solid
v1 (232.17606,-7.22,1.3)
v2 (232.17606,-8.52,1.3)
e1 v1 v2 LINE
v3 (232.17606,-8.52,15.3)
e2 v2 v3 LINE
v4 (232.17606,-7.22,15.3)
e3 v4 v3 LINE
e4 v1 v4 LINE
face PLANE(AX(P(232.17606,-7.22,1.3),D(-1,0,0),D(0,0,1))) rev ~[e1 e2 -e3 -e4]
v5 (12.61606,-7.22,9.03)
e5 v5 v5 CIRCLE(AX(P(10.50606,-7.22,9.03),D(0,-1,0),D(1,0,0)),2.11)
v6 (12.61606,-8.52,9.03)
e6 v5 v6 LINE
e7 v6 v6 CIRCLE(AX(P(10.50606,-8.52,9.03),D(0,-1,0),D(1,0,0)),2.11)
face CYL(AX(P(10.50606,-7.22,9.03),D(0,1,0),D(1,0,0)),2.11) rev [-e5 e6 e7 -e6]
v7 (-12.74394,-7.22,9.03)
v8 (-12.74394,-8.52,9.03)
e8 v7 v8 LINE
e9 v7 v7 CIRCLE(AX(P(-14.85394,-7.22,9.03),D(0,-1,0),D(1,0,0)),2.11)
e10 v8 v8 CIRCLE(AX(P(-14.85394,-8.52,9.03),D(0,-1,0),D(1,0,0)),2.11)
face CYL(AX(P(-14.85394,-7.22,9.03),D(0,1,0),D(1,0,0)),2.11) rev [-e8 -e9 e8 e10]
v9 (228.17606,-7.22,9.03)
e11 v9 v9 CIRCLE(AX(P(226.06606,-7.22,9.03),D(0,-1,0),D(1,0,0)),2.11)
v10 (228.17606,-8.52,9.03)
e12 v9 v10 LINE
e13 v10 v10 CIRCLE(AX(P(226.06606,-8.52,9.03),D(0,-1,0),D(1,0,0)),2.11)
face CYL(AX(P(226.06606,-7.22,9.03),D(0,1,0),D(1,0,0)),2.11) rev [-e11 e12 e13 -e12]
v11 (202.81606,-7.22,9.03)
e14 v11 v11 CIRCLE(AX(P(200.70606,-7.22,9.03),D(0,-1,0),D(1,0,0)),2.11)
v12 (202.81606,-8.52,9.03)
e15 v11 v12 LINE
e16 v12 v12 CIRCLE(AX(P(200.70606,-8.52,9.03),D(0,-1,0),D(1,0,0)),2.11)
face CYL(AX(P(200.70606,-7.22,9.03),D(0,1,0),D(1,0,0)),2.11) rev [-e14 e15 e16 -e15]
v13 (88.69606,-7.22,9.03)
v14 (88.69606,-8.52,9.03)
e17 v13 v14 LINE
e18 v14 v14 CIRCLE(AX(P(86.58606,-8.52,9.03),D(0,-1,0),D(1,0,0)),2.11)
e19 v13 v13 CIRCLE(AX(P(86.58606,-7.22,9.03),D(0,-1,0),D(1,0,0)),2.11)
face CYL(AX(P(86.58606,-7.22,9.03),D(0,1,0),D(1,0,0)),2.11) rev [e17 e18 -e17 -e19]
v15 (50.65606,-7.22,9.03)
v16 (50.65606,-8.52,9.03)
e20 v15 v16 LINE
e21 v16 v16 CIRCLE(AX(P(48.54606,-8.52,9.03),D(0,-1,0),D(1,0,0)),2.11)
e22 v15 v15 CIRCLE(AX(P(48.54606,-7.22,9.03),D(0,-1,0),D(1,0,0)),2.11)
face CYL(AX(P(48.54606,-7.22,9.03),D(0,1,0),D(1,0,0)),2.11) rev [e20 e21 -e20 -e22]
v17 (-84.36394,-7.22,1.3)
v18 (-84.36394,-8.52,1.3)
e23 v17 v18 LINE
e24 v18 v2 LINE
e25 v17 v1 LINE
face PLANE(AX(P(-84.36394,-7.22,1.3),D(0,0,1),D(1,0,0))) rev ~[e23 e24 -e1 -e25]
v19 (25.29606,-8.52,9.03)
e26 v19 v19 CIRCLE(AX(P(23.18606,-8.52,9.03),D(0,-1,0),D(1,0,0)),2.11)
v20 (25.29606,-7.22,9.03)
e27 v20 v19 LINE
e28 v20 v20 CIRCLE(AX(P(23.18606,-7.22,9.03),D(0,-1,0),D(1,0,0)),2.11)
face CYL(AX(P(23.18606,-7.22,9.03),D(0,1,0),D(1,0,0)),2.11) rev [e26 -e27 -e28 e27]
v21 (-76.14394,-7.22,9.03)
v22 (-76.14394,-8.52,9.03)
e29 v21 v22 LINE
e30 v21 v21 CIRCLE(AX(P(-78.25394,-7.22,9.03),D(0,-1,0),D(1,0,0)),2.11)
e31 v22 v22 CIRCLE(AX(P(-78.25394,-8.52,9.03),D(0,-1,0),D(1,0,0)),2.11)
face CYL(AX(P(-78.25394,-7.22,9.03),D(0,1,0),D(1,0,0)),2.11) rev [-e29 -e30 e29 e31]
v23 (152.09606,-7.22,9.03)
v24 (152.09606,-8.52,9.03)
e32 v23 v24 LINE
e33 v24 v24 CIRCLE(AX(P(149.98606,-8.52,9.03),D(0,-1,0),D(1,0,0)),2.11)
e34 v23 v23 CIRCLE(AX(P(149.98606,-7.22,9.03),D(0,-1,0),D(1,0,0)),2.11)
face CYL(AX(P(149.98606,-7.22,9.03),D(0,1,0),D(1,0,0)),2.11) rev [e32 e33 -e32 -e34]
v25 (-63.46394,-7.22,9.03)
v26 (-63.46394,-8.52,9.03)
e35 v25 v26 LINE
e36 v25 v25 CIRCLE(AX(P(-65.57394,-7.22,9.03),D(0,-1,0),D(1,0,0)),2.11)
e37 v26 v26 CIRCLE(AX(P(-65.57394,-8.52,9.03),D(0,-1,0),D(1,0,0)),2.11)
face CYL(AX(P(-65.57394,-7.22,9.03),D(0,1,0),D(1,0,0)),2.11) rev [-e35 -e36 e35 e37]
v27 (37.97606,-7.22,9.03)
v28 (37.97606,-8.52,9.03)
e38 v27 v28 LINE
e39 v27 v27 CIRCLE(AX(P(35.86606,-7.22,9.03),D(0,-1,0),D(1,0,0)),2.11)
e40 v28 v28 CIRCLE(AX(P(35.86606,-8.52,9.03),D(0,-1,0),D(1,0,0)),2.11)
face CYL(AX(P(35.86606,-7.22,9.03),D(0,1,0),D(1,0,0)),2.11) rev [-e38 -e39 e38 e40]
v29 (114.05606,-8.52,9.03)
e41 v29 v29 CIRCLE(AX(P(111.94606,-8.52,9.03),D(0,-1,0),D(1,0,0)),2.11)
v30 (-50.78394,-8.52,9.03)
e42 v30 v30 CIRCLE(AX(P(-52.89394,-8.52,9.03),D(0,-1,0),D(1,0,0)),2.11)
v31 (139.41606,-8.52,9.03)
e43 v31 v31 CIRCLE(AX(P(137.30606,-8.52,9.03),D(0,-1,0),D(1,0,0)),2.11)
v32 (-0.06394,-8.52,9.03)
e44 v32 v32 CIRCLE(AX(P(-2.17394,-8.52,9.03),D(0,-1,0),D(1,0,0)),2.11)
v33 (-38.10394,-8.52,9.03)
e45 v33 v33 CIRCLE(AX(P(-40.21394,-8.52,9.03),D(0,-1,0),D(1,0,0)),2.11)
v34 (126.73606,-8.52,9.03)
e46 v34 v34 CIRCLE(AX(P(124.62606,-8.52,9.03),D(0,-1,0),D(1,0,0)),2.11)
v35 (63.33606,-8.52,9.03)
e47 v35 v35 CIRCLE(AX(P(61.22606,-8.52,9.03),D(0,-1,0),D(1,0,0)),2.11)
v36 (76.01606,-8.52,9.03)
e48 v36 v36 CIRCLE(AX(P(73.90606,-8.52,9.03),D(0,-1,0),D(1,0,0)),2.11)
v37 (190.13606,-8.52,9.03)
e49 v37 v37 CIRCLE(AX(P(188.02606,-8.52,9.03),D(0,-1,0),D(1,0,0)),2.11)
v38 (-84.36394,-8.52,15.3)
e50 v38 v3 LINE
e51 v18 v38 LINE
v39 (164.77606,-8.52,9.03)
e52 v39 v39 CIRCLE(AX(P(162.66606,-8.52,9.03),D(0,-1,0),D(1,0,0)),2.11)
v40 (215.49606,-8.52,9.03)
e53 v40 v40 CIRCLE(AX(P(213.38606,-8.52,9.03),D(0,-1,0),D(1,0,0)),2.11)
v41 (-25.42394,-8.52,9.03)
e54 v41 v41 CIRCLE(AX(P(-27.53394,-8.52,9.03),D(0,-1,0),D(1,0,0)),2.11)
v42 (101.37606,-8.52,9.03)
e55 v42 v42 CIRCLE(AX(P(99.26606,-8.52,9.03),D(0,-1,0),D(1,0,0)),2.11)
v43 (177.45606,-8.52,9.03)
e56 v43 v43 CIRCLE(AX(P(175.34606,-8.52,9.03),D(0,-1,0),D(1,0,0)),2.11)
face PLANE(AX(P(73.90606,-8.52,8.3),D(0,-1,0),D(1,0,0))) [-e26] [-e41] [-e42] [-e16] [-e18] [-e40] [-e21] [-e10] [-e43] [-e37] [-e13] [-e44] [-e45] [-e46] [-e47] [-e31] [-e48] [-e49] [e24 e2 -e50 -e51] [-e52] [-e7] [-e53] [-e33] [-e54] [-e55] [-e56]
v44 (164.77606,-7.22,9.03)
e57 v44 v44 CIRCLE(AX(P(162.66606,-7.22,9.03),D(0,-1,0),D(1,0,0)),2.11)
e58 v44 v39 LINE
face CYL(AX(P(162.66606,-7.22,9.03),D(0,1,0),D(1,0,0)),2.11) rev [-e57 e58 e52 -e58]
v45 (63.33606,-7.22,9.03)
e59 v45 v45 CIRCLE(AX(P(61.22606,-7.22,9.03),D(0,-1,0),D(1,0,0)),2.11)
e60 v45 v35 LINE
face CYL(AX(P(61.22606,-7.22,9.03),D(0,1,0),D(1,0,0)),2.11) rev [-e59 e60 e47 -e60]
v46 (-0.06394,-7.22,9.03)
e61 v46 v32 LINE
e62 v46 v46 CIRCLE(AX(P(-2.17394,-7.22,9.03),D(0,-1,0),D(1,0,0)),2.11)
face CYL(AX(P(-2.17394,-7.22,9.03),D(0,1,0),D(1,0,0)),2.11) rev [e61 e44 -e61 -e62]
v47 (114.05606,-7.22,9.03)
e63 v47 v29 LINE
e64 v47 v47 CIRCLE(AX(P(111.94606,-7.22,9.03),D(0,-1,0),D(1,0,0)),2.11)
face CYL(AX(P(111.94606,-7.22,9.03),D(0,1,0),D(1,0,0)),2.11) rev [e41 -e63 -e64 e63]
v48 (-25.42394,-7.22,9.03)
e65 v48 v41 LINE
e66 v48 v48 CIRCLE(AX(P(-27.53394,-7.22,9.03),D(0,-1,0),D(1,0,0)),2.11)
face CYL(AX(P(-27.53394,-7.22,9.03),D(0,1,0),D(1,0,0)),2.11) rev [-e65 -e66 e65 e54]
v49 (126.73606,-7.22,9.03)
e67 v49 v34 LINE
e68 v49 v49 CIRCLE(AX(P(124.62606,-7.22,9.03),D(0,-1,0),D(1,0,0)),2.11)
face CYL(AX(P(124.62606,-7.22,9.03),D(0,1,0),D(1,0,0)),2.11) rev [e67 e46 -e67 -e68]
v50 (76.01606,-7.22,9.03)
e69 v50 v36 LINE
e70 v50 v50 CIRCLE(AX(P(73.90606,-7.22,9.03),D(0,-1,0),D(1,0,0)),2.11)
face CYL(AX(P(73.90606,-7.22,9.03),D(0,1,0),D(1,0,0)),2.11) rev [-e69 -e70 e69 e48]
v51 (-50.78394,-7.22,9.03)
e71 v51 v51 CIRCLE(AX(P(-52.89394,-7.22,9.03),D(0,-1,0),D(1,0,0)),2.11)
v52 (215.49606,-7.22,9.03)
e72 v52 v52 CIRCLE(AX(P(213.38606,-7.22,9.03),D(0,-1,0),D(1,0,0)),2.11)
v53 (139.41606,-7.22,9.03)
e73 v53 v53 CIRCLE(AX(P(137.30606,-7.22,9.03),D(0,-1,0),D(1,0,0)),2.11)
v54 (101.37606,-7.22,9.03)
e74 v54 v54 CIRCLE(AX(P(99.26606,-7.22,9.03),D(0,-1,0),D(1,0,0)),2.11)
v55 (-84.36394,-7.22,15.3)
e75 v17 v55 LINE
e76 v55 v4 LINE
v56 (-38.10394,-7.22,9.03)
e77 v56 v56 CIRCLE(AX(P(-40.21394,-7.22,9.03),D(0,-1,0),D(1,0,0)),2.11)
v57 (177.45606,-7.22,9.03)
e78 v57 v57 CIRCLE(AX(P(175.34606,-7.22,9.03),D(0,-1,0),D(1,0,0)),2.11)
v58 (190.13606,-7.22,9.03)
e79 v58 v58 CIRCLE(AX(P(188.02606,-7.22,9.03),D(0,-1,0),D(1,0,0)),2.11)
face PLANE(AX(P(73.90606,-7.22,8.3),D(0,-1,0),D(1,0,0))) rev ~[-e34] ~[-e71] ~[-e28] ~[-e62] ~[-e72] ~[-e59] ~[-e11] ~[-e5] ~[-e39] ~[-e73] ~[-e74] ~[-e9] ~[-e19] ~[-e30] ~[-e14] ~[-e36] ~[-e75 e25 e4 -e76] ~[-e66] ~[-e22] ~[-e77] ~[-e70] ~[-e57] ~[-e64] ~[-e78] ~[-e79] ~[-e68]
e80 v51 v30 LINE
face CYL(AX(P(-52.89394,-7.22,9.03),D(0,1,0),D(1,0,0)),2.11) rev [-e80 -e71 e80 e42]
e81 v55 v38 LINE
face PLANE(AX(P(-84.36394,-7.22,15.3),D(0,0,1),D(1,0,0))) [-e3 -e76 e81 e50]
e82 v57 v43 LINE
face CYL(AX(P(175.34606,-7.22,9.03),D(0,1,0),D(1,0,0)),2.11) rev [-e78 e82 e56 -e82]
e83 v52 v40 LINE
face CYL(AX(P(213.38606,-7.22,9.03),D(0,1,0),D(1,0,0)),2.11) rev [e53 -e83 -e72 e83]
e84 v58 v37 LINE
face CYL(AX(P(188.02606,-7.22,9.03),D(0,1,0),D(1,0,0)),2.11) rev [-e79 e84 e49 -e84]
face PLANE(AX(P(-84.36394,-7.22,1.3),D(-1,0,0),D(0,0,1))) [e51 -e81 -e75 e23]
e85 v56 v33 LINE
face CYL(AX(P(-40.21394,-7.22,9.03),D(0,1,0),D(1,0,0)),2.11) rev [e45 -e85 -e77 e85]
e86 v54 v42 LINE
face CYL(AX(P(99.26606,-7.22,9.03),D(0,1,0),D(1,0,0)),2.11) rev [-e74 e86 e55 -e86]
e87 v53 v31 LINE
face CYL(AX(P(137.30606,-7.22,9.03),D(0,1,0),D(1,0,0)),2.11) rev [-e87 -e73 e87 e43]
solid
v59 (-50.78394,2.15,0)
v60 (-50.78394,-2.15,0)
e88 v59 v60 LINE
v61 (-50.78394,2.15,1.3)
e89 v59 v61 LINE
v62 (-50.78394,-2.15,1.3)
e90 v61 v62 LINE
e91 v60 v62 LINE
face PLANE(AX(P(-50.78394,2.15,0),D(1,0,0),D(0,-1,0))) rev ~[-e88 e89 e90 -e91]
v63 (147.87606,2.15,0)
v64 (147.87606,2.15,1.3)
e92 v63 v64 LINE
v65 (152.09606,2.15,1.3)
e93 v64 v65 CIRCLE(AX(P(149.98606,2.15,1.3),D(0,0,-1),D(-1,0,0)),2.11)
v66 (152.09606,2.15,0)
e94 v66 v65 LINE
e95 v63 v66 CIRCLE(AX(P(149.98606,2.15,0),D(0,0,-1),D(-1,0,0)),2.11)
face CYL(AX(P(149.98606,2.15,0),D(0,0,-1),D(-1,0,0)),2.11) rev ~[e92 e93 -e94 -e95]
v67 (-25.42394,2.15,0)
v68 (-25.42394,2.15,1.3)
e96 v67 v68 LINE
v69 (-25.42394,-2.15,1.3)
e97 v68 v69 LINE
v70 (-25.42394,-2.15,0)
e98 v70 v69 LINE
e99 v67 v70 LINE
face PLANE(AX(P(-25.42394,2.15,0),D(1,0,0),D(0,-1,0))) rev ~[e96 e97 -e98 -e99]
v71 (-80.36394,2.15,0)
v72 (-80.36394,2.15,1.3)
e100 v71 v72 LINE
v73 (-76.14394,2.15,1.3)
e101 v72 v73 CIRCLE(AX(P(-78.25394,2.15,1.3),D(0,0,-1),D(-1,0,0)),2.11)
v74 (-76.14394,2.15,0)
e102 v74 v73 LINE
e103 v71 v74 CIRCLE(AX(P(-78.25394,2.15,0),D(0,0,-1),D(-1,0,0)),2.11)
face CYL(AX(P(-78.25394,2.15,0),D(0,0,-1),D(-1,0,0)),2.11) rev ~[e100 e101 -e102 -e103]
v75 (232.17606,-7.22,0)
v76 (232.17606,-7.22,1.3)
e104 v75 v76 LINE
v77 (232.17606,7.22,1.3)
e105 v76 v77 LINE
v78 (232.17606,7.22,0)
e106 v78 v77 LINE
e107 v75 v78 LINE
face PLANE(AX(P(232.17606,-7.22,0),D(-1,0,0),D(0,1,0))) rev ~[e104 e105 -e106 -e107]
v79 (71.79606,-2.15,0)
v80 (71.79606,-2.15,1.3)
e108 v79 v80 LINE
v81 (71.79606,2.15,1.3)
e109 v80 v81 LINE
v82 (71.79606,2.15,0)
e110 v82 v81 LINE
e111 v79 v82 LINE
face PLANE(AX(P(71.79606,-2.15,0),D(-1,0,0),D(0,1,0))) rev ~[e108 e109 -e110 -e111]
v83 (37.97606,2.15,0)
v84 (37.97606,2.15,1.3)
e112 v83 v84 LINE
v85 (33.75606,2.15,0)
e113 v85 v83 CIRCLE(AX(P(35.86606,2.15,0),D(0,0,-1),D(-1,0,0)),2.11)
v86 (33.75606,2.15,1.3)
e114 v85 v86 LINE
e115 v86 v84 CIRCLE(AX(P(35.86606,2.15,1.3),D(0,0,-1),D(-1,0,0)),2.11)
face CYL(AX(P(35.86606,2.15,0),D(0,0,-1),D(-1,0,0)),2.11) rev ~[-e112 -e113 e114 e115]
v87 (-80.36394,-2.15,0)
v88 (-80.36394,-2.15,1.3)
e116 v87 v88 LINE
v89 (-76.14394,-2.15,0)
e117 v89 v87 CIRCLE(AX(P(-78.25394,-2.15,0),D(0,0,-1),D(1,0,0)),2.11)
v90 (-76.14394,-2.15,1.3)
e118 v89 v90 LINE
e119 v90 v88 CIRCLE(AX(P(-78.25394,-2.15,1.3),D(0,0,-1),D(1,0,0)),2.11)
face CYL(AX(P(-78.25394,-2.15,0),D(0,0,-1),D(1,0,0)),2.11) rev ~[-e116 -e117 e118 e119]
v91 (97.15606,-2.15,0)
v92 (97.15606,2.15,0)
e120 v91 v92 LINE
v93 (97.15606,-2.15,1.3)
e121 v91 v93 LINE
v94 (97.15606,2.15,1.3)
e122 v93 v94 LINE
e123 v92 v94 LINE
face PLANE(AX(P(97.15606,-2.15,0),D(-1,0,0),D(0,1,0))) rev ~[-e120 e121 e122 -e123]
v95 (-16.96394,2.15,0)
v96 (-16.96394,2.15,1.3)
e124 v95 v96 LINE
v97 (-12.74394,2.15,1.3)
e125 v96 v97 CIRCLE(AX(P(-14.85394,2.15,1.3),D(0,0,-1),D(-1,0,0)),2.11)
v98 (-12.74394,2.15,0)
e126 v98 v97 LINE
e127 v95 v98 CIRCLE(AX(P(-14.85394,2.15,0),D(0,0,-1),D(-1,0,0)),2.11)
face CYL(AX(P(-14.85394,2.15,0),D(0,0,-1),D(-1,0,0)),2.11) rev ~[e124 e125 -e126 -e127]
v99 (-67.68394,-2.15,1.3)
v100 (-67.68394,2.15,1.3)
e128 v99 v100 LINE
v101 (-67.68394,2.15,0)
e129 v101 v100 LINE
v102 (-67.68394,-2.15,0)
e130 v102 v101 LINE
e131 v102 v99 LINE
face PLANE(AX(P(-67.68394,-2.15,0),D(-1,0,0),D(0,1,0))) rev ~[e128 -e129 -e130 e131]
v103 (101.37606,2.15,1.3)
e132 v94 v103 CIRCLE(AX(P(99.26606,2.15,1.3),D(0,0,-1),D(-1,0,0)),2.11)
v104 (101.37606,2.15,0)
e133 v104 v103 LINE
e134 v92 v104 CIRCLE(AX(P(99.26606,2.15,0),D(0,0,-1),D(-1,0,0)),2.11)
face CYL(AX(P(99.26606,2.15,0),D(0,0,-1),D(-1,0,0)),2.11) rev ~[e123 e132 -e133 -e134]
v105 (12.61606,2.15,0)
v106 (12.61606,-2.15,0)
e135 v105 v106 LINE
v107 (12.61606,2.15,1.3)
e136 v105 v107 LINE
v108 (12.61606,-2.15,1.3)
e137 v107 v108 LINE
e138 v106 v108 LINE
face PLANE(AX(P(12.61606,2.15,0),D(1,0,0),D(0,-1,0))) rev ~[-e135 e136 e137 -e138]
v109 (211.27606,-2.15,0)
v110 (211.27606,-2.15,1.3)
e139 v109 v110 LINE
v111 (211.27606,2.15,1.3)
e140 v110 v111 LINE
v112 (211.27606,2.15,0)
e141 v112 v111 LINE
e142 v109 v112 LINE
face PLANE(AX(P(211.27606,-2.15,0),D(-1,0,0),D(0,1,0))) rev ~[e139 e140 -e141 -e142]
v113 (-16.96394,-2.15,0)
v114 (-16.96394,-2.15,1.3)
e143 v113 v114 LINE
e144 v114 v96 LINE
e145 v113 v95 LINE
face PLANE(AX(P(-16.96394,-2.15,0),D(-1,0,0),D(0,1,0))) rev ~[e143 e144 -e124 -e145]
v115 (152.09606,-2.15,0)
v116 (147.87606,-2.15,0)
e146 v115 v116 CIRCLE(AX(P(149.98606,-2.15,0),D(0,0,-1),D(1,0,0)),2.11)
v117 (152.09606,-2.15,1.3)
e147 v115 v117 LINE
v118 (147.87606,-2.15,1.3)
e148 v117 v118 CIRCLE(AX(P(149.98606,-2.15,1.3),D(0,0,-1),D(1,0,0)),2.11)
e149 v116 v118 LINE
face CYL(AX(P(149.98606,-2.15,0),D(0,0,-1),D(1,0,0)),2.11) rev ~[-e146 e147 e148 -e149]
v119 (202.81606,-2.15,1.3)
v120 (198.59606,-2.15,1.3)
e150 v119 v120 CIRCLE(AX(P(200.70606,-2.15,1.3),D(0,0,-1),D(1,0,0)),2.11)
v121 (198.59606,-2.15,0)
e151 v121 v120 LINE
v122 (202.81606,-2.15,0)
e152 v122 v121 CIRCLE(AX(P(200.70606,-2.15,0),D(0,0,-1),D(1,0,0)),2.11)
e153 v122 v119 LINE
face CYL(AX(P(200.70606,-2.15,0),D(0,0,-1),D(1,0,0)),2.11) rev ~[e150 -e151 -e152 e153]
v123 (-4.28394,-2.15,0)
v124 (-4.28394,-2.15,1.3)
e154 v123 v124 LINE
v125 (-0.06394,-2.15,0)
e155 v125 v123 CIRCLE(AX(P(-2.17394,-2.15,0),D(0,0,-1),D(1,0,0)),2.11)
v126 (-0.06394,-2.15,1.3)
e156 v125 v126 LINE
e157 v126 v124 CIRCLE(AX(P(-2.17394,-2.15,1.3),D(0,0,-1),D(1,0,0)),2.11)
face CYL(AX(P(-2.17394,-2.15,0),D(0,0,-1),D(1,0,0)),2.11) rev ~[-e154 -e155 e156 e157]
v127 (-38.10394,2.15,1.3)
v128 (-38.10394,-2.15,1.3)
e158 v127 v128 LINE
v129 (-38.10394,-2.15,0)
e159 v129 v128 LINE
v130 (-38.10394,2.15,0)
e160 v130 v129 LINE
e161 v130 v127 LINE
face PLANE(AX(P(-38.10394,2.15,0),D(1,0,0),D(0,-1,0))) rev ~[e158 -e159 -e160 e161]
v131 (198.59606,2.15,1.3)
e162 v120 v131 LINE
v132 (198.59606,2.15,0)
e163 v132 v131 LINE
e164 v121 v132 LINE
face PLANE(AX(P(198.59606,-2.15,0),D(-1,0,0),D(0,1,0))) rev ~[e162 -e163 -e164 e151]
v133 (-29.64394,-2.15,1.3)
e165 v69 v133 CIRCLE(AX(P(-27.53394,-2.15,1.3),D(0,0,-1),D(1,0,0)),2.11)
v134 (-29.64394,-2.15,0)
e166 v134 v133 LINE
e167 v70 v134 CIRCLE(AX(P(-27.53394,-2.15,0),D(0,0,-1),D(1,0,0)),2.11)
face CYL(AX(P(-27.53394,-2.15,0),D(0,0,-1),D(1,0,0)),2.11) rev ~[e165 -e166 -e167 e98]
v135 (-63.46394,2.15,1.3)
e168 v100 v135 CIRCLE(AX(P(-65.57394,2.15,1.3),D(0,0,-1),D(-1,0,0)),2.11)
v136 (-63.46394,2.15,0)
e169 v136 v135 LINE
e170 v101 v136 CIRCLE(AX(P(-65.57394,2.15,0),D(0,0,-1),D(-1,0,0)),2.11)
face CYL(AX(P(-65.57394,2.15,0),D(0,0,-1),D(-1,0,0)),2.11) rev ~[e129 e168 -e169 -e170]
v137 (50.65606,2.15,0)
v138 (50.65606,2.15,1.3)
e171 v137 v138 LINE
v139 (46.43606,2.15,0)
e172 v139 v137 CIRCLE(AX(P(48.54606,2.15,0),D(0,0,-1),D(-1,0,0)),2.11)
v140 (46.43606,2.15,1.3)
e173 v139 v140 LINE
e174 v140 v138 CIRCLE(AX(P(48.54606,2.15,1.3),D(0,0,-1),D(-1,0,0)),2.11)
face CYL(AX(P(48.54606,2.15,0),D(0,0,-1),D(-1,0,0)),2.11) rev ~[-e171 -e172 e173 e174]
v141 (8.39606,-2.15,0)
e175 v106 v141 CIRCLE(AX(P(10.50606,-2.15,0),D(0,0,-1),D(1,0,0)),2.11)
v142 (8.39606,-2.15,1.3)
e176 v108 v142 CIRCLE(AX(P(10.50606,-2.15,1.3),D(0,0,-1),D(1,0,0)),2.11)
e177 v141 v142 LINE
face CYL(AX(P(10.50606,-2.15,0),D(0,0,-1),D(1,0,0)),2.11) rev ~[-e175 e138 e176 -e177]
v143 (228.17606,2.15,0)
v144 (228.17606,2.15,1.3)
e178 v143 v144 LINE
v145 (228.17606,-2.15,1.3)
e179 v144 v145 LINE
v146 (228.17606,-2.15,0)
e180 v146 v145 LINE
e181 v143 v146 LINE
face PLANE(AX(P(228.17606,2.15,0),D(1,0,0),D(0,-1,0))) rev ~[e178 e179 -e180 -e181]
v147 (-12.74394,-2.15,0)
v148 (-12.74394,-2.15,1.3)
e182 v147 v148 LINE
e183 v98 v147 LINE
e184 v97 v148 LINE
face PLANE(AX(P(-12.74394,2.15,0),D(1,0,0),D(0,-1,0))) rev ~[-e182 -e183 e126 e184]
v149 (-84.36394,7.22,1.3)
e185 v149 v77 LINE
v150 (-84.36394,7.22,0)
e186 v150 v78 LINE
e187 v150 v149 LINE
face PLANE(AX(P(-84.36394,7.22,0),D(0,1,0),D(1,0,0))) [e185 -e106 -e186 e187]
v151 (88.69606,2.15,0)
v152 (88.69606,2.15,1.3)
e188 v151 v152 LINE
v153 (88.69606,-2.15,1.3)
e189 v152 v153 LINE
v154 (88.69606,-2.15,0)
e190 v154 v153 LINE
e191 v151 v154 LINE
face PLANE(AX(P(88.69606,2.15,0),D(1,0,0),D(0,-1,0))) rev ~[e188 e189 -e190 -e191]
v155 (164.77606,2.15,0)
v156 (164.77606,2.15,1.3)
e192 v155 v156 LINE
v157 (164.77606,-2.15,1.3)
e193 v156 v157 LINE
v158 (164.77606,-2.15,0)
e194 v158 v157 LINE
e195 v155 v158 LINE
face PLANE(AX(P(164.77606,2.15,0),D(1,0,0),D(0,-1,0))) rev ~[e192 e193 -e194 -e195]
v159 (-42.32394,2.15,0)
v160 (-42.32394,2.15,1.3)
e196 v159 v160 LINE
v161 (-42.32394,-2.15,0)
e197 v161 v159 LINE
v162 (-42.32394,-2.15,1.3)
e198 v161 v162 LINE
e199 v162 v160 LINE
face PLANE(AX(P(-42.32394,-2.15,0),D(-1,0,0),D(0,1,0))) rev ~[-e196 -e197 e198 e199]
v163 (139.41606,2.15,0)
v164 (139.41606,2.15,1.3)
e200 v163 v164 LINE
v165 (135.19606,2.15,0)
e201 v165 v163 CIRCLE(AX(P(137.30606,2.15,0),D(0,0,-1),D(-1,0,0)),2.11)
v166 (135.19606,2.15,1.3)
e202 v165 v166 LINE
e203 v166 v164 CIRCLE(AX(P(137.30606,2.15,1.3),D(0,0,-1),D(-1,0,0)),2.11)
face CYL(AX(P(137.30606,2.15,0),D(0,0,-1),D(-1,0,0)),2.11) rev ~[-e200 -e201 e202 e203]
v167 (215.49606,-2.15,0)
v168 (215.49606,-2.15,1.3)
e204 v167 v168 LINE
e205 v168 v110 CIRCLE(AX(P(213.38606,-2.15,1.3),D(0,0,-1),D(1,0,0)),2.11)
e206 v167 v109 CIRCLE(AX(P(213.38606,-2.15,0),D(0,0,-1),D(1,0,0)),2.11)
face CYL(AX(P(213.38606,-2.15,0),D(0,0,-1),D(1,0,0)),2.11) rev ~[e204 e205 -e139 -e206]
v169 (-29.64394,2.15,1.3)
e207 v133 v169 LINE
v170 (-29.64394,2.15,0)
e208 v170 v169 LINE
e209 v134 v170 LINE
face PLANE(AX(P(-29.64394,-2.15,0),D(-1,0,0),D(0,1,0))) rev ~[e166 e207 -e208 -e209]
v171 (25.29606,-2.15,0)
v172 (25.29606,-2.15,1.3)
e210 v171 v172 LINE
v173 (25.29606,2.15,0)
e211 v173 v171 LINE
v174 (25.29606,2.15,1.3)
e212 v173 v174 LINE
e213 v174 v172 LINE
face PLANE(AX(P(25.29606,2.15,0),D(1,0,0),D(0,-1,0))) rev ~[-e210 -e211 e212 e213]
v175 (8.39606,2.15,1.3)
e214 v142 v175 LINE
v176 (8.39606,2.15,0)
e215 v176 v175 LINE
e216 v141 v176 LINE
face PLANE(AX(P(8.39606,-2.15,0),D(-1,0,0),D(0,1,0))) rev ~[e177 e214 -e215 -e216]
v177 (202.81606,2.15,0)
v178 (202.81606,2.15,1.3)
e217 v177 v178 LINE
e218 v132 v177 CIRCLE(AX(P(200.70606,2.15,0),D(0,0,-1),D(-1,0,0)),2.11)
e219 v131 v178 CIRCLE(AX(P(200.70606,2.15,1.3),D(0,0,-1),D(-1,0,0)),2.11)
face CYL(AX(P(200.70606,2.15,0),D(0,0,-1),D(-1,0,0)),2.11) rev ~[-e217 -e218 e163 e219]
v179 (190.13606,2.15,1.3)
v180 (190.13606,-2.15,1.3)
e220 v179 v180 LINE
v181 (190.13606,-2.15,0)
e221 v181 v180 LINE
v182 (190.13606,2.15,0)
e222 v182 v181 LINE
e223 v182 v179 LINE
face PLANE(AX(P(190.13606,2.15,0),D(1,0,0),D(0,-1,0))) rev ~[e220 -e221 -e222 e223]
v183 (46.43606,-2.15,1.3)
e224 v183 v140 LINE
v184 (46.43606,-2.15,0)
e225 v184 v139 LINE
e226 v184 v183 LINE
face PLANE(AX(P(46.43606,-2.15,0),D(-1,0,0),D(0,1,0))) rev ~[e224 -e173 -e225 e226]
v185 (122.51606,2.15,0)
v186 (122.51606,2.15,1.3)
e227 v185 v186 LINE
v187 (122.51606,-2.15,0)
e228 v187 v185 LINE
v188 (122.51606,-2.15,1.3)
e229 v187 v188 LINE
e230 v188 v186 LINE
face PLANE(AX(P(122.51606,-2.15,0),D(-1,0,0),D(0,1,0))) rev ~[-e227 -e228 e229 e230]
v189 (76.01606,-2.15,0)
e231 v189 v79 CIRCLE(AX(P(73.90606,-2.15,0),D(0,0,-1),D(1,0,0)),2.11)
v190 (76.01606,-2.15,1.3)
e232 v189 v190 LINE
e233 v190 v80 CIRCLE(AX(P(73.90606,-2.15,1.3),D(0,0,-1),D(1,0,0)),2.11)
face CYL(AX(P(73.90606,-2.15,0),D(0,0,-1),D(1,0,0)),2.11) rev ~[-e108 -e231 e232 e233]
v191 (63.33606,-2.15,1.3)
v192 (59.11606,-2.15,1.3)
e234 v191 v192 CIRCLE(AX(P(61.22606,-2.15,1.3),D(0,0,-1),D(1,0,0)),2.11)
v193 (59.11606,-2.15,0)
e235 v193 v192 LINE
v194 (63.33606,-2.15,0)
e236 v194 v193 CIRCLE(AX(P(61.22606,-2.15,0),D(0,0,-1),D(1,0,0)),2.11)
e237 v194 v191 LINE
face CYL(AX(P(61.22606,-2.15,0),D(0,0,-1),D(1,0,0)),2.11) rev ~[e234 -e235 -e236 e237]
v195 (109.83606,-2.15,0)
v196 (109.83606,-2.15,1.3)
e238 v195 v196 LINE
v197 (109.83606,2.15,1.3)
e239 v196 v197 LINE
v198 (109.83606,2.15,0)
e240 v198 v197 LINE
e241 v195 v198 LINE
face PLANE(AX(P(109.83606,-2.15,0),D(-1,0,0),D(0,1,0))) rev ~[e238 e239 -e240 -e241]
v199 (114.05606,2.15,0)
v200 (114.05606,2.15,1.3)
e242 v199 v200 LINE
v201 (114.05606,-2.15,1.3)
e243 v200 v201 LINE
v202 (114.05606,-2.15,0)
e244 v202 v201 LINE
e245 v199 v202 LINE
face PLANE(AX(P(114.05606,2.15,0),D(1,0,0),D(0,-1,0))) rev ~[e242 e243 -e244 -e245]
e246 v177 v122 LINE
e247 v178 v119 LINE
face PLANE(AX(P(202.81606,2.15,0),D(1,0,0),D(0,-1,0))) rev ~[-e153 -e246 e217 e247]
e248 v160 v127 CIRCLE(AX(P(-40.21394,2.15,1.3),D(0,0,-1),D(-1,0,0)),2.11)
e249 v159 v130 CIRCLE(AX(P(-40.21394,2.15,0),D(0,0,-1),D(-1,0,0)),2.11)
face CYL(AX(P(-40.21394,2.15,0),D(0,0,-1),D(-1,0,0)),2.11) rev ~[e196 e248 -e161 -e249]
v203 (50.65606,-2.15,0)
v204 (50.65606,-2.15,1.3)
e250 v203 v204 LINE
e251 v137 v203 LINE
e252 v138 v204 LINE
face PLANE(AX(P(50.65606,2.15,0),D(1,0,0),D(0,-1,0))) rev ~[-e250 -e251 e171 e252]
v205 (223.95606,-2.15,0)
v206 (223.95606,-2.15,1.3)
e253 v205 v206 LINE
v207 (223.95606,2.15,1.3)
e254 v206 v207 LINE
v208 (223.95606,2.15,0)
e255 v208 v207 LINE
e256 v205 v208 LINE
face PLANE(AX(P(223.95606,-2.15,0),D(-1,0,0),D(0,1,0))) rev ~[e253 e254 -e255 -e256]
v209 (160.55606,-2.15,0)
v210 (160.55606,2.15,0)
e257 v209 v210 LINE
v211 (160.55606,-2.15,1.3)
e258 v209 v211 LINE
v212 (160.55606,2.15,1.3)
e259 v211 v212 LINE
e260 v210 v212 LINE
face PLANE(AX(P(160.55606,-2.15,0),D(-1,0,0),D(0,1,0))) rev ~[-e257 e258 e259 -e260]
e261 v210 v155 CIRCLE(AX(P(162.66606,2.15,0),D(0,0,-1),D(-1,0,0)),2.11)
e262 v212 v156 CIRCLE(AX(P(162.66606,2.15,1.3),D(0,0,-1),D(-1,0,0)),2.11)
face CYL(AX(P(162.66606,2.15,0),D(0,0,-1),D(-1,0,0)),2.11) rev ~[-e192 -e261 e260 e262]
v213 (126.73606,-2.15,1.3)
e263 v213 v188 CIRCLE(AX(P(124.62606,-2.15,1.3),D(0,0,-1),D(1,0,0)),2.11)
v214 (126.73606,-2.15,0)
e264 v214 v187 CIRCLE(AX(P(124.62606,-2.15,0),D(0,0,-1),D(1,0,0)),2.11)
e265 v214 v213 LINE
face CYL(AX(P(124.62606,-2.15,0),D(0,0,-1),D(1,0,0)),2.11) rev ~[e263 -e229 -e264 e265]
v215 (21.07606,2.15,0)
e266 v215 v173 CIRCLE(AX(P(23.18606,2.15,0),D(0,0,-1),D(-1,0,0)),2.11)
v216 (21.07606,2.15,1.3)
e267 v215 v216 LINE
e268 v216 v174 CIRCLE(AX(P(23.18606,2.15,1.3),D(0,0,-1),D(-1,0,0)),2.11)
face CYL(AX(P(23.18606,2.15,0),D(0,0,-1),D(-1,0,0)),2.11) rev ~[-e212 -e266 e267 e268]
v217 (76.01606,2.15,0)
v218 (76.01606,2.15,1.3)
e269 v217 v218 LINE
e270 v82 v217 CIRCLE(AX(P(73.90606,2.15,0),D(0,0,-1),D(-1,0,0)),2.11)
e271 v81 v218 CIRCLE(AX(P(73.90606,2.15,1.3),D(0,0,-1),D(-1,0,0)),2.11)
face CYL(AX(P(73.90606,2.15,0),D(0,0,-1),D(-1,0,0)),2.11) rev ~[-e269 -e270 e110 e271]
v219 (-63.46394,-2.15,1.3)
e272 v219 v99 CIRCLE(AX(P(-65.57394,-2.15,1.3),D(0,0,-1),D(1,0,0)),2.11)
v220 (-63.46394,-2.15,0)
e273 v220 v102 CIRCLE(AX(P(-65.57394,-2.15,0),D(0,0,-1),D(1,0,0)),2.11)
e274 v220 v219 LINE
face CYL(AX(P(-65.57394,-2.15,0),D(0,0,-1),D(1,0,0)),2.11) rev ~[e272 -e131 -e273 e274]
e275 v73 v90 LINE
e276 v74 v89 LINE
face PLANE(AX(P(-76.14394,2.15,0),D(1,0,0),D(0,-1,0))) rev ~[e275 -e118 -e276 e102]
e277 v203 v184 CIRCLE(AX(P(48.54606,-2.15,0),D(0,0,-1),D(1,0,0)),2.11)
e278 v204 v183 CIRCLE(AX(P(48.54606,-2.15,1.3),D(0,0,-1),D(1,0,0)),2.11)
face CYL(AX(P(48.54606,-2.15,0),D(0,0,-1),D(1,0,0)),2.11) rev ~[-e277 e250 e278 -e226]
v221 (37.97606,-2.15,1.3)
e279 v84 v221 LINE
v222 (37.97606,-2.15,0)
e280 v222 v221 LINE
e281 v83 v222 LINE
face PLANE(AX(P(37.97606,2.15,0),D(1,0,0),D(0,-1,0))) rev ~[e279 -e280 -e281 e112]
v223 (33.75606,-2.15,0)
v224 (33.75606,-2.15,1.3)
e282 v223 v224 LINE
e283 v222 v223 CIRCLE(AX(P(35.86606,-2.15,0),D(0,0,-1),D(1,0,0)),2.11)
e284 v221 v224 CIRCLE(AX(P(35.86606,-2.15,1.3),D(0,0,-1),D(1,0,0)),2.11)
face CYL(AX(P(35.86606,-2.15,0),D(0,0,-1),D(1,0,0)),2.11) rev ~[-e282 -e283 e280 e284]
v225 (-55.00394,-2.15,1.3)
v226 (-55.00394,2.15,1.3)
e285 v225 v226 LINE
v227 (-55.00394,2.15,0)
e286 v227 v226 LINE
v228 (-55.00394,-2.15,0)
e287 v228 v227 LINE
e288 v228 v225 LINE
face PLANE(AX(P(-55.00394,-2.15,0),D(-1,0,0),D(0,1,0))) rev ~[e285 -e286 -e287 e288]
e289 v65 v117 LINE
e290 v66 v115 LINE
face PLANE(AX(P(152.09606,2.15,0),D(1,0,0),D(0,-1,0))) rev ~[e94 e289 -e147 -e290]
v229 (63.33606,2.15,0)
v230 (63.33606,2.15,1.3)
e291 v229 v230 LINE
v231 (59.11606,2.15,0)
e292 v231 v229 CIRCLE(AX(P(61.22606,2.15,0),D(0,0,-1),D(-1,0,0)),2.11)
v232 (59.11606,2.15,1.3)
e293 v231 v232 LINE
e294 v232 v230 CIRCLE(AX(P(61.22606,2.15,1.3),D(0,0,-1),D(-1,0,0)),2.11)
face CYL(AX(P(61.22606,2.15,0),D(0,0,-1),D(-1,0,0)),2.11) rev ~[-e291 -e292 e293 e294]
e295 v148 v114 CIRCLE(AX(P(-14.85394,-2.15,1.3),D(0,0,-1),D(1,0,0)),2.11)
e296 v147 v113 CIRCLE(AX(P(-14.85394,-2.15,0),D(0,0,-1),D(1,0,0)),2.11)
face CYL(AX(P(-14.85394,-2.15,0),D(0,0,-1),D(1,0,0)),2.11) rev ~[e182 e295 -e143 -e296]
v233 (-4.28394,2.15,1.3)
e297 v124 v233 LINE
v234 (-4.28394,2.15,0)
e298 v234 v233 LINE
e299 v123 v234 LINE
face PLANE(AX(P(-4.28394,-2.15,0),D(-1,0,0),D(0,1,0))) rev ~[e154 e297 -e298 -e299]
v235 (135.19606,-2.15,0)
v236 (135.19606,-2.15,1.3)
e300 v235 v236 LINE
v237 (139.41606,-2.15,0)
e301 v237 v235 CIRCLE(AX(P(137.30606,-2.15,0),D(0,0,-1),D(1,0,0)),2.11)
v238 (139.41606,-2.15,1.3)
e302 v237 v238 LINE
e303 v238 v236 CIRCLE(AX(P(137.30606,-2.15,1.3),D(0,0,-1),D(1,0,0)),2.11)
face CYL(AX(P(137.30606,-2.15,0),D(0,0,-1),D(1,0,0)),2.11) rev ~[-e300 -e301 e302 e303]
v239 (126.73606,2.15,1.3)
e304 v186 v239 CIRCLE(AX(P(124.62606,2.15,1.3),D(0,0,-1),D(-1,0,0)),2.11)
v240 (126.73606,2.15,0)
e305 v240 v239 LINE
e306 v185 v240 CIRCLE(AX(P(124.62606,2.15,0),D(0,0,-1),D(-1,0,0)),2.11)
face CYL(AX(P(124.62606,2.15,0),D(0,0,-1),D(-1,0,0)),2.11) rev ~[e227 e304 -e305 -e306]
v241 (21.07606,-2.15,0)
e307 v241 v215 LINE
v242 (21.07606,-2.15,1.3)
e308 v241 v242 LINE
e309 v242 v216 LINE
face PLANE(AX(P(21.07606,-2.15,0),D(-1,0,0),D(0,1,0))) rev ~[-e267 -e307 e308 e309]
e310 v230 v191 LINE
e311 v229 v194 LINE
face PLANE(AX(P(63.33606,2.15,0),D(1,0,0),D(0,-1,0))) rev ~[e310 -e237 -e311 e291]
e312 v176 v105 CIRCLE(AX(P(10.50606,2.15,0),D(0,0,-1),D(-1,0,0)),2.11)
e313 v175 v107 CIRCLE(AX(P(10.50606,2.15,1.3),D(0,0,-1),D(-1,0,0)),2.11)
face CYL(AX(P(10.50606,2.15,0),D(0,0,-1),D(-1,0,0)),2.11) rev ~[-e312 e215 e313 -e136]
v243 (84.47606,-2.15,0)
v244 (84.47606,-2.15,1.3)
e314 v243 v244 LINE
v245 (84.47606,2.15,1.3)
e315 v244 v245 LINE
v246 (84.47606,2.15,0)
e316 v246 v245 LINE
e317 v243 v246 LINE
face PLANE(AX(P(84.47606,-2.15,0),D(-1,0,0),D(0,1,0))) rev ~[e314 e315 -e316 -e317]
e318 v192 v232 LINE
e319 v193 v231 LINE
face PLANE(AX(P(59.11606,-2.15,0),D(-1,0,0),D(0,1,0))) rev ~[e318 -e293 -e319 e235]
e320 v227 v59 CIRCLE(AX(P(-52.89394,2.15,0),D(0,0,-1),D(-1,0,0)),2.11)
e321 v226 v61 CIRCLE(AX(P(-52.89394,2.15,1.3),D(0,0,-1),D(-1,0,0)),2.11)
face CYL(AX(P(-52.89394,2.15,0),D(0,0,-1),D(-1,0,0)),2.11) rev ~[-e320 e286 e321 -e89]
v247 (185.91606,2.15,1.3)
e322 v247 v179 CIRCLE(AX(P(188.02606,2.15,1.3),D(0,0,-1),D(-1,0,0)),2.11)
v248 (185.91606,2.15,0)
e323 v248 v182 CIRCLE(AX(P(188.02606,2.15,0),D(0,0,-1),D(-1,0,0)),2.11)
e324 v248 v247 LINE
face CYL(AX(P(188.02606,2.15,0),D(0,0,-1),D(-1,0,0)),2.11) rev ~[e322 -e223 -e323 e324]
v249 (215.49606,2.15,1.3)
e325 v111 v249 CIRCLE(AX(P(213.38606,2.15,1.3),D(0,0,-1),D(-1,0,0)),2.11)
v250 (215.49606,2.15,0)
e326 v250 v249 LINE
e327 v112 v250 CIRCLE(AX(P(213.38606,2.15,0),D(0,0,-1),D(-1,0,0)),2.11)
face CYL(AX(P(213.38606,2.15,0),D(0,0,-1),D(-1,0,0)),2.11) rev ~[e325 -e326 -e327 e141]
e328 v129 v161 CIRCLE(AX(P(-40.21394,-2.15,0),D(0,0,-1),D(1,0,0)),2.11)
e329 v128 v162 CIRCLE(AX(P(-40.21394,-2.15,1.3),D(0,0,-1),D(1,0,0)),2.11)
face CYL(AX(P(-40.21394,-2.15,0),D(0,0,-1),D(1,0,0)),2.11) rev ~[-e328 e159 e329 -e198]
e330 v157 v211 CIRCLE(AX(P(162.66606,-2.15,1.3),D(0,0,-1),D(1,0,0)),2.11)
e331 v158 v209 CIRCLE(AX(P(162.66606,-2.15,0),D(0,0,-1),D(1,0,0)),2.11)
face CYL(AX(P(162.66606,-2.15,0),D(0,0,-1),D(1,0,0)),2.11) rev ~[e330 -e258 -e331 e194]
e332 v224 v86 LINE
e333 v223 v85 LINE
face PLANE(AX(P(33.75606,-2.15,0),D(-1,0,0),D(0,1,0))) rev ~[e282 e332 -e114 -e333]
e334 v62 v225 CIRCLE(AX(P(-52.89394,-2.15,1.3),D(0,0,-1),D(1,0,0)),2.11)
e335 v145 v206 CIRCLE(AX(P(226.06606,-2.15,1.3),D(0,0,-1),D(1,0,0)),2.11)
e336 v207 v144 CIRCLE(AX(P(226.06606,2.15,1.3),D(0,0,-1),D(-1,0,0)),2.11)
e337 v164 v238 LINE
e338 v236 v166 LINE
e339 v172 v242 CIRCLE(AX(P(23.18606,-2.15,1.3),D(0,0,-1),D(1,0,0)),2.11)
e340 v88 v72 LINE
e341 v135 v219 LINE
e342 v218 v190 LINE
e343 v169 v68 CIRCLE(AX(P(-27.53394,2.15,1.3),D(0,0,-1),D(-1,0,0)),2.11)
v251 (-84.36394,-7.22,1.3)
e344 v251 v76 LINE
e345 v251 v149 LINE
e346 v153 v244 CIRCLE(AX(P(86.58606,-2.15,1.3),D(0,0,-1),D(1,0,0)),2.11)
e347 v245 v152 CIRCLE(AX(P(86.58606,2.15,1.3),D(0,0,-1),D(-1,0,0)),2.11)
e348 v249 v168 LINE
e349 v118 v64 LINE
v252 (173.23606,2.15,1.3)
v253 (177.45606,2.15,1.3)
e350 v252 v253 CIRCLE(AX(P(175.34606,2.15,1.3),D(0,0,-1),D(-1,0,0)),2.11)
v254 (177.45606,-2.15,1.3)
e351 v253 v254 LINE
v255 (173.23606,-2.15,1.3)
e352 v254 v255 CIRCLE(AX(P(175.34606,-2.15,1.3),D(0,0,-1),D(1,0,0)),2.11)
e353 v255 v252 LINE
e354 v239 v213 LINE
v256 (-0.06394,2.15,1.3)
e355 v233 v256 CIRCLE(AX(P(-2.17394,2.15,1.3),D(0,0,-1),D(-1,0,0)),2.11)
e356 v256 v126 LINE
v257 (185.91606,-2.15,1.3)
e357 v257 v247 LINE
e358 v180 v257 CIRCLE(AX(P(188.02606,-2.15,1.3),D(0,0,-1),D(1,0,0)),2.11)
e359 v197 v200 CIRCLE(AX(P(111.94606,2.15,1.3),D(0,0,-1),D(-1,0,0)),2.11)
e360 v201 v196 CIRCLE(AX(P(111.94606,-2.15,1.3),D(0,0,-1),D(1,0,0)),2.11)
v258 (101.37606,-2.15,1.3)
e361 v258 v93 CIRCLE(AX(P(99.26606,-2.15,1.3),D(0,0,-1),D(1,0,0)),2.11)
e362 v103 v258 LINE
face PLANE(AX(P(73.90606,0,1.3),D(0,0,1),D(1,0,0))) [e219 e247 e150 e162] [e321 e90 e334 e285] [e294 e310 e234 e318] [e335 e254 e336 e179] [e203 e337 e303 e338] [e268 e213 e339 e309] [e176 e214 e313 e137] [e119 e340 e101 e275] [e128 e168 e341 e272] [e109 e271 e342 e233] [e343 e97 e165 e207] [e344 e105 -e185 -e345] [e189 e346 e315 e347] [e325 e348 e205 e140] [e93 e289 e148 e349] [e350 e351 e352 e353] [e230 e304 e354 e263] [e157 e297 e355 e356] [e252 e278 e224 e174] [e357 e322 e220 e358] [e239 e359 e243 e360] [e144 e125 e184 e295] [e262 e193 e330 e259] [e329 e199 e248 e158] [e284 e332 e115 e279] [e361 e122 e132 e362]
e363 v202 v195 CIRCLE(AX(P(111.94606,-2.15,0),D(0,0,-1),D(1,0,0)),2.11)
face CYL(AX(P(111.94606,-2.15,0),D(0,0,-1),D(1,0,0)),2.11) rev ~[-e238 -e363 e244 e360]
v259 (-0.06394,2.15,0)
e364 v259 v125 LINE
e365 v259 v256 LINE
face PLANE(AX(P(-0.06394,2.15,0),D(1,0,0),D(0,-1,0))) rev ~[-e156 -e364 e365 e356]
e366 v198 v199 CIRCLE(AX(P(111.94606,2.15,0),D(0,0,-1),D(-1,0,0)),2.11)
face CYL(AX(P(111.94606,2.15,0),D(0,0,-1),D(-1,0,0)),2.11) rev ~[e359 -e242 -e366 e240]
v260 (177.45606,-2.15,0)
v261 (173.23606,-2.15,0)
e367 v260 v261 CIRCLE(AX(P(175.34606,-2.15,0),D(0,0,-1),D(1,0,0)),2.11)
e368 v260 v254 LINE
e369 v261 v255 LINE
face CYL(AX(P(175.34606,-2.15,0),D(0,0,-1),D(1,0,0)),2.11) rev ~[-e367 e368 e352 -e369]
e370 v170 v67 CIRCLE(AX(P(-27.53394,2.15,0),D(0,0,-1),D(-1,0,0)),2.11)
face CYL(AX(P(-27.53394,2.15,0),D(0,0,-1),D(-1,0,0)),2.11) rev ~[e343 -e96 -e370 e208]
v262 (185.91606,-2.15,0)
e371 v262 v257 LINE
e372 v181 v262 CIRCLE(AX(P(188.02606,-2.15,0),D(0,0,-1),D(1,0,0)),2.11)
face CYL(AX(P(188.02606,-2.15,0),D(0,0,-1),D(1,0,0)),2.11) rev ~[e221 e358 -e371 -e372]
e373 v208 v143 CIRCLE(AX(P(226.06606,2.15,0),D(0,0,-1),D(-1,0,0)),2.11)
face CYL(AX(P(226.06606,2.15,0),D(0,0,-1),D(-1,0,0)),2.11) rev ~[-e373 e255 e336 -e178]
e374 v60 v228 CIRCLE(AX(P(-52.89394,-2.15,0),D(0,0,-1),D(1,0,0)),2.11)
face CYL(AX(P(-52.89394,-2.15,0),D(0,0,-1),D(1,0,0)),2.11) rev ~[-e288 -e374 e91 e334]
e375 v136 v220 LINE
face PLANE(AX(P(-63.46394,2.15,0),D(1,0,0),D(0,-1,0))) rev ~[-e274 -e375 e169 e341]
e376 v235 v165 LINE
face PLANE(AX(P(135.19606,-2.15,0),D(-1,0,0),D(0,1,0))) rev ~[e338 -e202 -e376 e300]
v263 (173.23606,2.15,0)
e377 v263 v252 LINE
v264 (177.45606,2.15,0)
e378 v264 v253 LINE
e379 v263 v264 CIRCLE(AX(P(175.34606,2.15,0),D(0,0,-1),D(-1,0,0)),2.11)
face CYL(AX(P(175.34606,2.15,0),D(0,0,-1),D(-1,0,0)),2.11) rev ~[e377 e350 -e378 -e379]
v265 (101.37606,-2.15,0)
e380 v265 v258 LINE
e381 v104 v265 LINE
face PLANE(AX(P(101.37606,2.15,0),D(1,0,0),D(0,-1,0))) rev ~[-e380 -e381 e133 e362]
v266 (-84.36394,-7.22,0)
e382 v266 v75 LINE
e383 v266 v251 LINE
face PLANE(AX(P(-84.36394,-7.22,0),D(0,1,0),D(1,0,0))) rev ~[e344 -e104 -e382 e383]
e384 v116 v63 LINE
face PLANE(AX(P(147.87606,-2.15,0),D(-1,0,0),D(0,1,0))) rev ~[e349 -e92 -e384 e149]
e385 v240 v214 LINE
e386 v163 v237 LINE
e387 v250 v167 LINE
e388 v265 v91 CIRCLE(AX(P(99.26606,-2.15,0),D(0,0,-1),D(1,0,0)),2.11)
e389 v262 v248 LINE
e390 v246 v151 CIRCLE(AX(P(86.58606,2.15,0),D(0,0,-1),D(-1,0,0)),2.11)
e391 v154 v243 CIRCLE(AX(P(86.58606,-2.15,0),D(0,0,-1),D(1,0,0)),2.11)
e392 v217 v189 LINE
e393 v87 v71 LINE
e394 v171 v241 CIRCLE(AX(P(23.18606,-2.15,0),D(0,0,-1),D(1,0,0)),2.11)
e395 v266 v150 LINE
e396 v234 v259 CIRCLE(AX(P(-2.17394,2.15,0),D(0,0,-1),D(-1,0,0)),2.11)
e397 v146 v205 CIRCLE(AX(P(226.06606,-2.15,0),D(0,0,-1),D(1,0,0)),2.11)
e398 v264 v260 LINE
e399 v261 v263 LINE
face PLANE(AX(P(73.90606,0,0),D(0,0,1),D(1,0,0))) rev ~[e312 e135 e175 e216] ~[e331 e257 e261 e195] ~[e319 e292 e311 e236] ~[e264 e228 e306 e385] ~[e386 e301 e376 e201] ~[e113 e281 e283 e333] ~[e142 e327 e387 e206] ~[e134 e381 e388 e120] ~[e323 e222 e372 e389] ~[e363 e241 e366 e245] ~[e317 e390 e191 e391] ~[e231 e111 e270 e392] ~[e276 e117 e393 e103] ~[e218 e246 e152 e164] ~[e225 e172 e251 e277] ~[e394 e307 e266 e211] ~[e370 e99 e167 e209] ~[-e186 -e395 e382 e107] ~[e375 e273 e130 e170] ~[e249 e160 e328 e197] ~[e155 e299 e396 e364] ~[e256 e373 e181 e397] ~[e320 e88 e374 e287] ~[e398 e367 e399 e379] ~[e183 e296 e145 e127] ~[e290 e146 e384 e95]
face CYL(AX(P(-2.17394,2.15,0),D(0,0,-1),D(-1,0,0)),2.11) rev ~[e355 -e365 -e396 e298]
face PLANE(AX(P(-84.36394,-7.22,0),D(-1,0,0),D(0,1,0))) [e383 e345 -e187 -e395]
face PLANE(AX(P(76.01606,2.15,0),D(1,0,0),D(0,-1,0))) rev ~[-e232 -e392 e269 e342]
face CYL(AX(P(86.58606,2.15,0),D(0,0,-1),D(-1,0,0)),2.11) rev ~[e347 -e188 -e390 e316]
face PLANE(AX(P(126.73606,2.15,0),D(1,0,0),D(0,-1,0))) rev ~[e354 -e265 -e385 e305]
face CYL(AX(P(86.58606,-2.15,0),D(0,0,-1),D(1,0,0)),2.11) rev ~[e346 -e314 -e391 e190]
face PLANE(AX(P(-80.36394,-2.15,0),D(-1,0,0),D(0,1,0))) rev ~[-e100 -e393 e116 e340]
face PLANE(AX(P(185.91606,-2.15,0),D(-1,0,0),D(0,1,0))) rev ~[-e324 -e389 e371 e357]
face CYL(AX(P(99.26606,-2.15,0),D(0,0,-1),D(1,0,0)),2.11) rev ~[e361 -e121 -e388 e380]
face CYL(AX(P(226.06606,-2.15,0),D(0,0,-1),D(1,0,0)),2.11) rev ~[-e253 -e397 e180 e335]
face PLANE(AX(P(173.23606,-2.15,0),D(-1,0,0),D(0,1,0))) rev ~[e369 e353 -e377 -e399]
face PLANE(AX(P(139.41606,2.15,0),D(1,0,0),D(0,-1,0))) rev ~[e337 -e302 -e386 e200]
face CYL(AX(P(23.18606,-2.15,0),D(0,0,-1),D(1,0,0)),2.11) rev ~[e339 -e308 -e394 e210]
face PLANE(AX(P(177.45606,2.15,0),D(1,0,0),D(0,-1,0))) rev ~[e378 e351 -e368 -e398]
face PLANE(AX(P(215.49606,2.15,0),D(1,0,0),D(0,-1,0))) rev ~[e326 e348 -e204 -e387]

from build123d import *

# Parameters (mm, degrees)
SKETCH1_W           = 316.54
SKETCH1_H           = 14.44
BOSS_EXTRUDE1_DEPTH = 1.3
SKETCH3_W           = 316.54
SKETCH3_H           = 14
SKETCH3_R           = 2.11
BOSS_EXTRUDE5_DEPTH = 1.3


with BuildPart() as part:
    # Sketch1 → Boss-Extrude1 (new body)
    with BuildSketch(Plane.XY):
        with Locations((73.906059827, 0)):
            Rectangle(SKETCH1_W, SKETCH1_H)
        with BuildLine():
            Line((-76.143940173, 2.15), (-76.143940173, -2.15))
            ThreePointArc((-76.143940173, -2.15), (-78.253940173, -4.26), (-80.363940173, -2.15))
            Line((-80.363940173, -2.15), (-80.363940173, 2.15))
            ThreePointArc((-80.363940173, 2.15), (-78.253940173, 4.26), (-76.143940173, 2.15))
        make_face(mode=Mode.SUBTRACT)
        with BuildLine():
            Line((-63.463940173, 2.15), (-63.463940173, -2.15))
            ThreePointArc((-63.463940173, -2.15), (-65.573940173, -4.26), (-67.683940173, -2.15))
            Line((-67.683940173, -2.15), (-67.683940173, 2.15))
            ThreePointArc((-67.683940173, 2.15), (-65.573940173, 4.26), (-63.463940173, 2.15))
        make_face(mode=Mode.SUBTRACT)
        with BuildLine():
            Line((-50.783940173, 2.15), (-50.783940173, -2.15))
            ThreePointArc((-50.783940173, -2.15), (-52.893940173, -4.26), (-55.003940173, -2.15))
            Line((-55.003940173, -2.15), (-55.003940173, 2.15))
            ThreePointArc((-55.003940173, 2.15), (-52.893940173, 4.26), (-50.783940173, 2.15))
        make_face(mode=Mode.SUBTRACT)
        with BuildLine():
            Line((-38.103940173, 2.15), (-38.103940173, -2.15))
            ThreePointArc((-38.103940173, -2.15), (-40.213940173, -4.26), (-42.323940173, -2.15))
            Line((-42.323940173, -2.15), (-42.323940173, 2.15))
            ThreePointArc((-42.323940173, 2.15), (-40.213940173, 4.26), (-38.103940173, 2.15))
        make_face(mode=Mode.SUBTRACT)
        with BuildLine():
            Line((-25.423940173, 2.15), (-25.423940173, -2.15))
            ThreePointArc((-25.423940173, -2.15), (-27.533940173, -4.26), (-29.643940173, -2.15))
            Line((-29.643940173, -2.15), (-29.643940173, 2.15))
            ThreePointArc((-29.643940173, 2.15), (-27.533940173, 4.26), (-25.423940173, 2.15))
        make_face(mode=Mode.SUBTRACT)
        with BuildLine():
            Line((-12.743940173, 2.15), (-12.743940173, -2.15))
            ThreePointArc((-12.743940173, -2.15), (-14.853940173, -4.26), (-16.963940173, -2.15))
            Line((-16.963940173, -2.15), (-16.963940173, 2.15))
            ThreePointArc((-16.963940173, 2.15), (-14.853940173, 4.26), (-12.743940173, 2.15))
        make_face(mode=Mode.SUBTRACT)
        with BuildLine():
            Line((-0.063940173, 2.15), (-0.063940173, -2.15))
            ThreePointArc((-0.063940173, -2.15), (-2.173940173, -4.26), (-4.283940173, -2.15))
            Line((-4.283940173, -2.15), (-4.283940173, 2.15))
            ThreePointArc((-4.283940173, 2.15), (-2.173940173, 4.26), (-0.063940173, 2.15))
        make_face(mode=Mode.SUBTRACT)
        with BuildLine():
            Line((12.616059827, 2.15), (12.616059827, -2.15))
            ThreePointArc((12.616059827, -2.15), (10.506059827, -4.26), (8.396059827, -2.15))
            Line((8.396059827, -2.15), (8.396059827, 2.15))
            ThreePointArc((8.396059827, 2.15), (10.506059827, 4.26), (12.616059827, 2.15))
        make_face(mode=Mode.SUBTRACT)
        with BuildLine():
            Line((25.296059827, 2.15), (25.296059827, -2.15))
            ThreePointArc((25.296059827, -2.15), (23.186059827, -4.26), (21.076059827, -2.15))
            Line((21.076059827, -2.15), (21.076059827, 2.15))
            ThreePointArc((21.076059827, 2.15), (23.186059827, 4.26), (25.296059827, 2.15))
        make_face(mode=Mode.SUBTRACT)
        with BuildLine():
            Line((37.976059827, 2.15), (37.976059827, -2.15))
            ThreePointArc((37.976059827, -2.15), (35.866059827, -4.26), (33.756059827, -2.15))
            Line((33.756059827, -2.15), (33.756059827, 2.15))
            ThreePointArc((33.756059827, 2.15), (35.866059827, 4.26), (37.976059827, 2.15))
        make_face(mode=Mode.SUBTRACT)
        with BuildLine():
            Line((50.656059827, 2.15), (50.656059827, -2.15))
            ThreePointArc((50.656059827, -2.15), (48.546059827, -4.26), (46.436059827, -2.15))
            Line((46.436059827, -2.15), (46.436059827, 2.15))
            ThreePointArc((46.436059827, 2.15), (48.546059827, 4.26), (50.656059827, 2.15))
        make_face(mode=Mode.SUBTRACT)
        with BuildLine():
            Line((63.336059827, 2.15), (63.336059827, -2.15))
            ThreePointArc((63.336059827, -2.15), (61.226059827, -4.26), (59.116059827, -2.15))
            Line((59.116059827, -2.15), (59.116059827, 2.15))
            ThreePointArc((59.116059827, 2.15), (61.226059827, 4.26), (63.336059827, 2.15))
        make_face(mode=Mode.SUBTRACT)
        with BuildLine():
            Line((76.016059827, 2.15), (76.016059827, -2.15))
            ThreePointArc((76.016059827, -2.15), (73.906059827, -4.26), (71.796059827, -2.15))
            Line((71.796059827, -2.15), (71.796059827, 2.15))
            ThreePointArc((71.796059827, 2.15), (73.906059827, 4.26), (76.016059827, 2.15))
        make_face(mode=Mode.SUBTRACT)
        with BuildLine():
            Line((88.696059827, 2.15), (88.696059827, -2.15))
            ThreePointArc((88.696059827, -2.15), (86.586059827, -4.26), (84.476059827, -2.15))
            Line((84.476059827, -2.15), (84.476059827, 2.15))
            ThreePointArc((84.476059827, 2.15), (86.586059827, 4.26), (88.696059827, 2.15))
        make_face(mode=Mode.SUBTRACT)
        with BuildLine():
            Line((101.376059827, 2.15), (101.376059827, -2.15))
            ThreePointArc((101.376059827, -2.15), (99.266059827, -4.26), (97.156059827, -2.15))
            Line((97.156059827, -2.15), (97.156059827, 2.15))
            ThreePointArc((97.156059827, 2.15), (99.266059827, 4.26), (101.376059827, 2.15))
        make_face(mode=Mode.SUBTRACT)
        with BuildLine():
            Line((114.056059827, 2.15), (114.056059827, -2.15))
            ThreePointArc((114.056059827, -2.15), (111.946059827, -4.26), (109.836059827, -2.15))
            Line((109.836059827, -2.15), (109.836059827, 2.15))
            ThreePointArc((109.836059827, 2.15), (111.946059827, 4.26), (114.056059827, 2.15))
        make_face(mode=Mode.SUBTRACT)
        with BuildLine():
            Line((126.736059827, 2.15), (126.736059827, -2.15))
            ThreePointArc((126.736059827, -2.15), (124.626059827, -4.26), (122.516059827, -2.15))
            Line((122.516059827, -2.15), (122.516059827, 2.15))
            ThreePointArc((122.516059827, 2.15), (124.626059827, 4.26), (126.736059827, 2.15))
        make_face(mode=Mode.SUBTRACT)
        with BuildLine():
            Line((139.416059827, 2.15), (139.416059827, -2.15))
            ThreePointArc((139.416059827, -2.15), (137.306059827, -4.26), (135.196059827, -2.15))
            Line((135.196059827, -2.15), (135.196059827, 2.15))
            ThreePointArc((135.196059827, 2.15), (137.306059827, 4.26), (139.416059827, 2.15))
        make_face(mode=Mode.SUBTRACT)
        with BuildLine():
            Line((152.096059827, 2.15), (152.096059827, -2.15))
            ThreePointArc((152.096059827, -2.15), (149.986059827, -4.26), (147.876059827, -2.15))
            Line((147.876059827, -2.15), (147.876059827, 2.15))
            ThreePointArc((147.876059827, 2.15), (149.986059827, 4.26), (152.096059827, 2.15))
        make_face(mode=Mode.SUBTRACT)
        with BuildLine():
            Line((164.776059827, 2.15), (164.776059827, -2.15))
            ThreePointArc((164.776059827, -2.15), (162.666059827, -4.26), (160.556059827, -2.15))
            Line((160.556059827, -2.15), (160.556059827, 2.15))
            ThreePointArc((160.556059827, 2.15), (162.666059827, 4.26), (164.776059827, 2.15))
        make_face(mode=Mode.SUBTRACT)
        with BuildLine():
            Line((177.456059827, 2.15), (177.456059827, -2.15))
            ThreePointArc((177.456059827, -2.15), (175.346059827, -4.26), (173.236059827, -2.15))
            Line((173.236059827, -2.15), (173.236059827, 2.15))
            ThreePointArc((173.236059827, 2.15), (175.346059827, 4.26), (177.456059827, 2.15))
        make_face(mode=Mode.SUBTRACT)
        with BuildLine():
            Line((190.136059827, 2.15), (190.136059827, -2.15))
            ThreePointArc((190.136059827, -2.15), (188.026059827, -4.26), (185.916059827, -2.15))
            Line((185.916059827, -2.15), (185.916059827, 2.15))
            ThreePointArc((185.916059827, 2.15), (188.026059827, 4.26), (190.136059827, 2.15))
        make_face(mode=Mode.SUBTRACT)
        with BuildLine():
            Line((202.816059827, 2.15), (202.816059827, -2.15))
            ThreePointArc((202.816059827, -2.15), (200.706059827, -4.26), (198.596059827, -2.15))
            Line((198.596059827, -2.15), (198.596059827, 2.15))
            ThreePointArc((198.596059827, 2.15), (200.706059827, 4.26), (202.816059827, 2.15))
        make_face(mode=Mode.SUBTRACT)
        with BuildLine():
            Line((215.496059827, 2.15), (215.496059827, -2.15))
            ThreePointArc((215.496059827, -2.15), (213.386059827, -4.26), (211.276059827, -2.15))
            Line((211.276059827, -2.15), (211.276059827, 2.15))
            ThreePointArc((211.276059827, 2.15), (213.386059827, 4.26), (215.496059827, 2.15))
        make_face(mode=Mode.SUBTRACT)
        with BuildLine():
            Line((228.176059827, 2.15), (228.176059827, -2.15))
            ThreePointArc((228.176059827, -2.15), (226.066059827, -4.26), (223.956059827, -2.15))
            Line((223.956059827, -2.15), (223.956059827, 2.15))
            ThreePointArc((223.956059827, 2.15), (226.066059827, 4.26), (228.176059827, 2.15))
        make_face(mode=Mode.SUBTRACT)
    extrude(amount=BOSS_EXTRUDE1_DEPTH)


with BuildPart() as body_2:
    # Sketch3 → Boss-Extrude5 (new body)
    with BuildSketch(Plane.XZ.offset(7.22)):
        with Locations((73.906059827, 8.3)):
            Rectangle(SKETCH3_W, SKETCH3_H)
        with Locations((-78.253940173, 9.03)):
            Circle(SKETCH3_R, mode=Mode.SUBTRACT)
        with Locations((-65.573940173, 9.03)):
            Circle(SKETCH3_R, mode=Mode.SUBTRACT)
        with Locations((-52.893940173, 9.03)):
            Circle(SKETCH3_R, mode=Mode.SUBTRACT)
        with Locations((-40.213940173, 9.03)):
            Circle(SKETCH3_R, mode=Mode.SUBTRACT)
        with Locations((-27.533940173, 9.03)):
            Circle(SKETCH3_R, mode=Mode.SUBTRACT)
        with Locations((-14.853940173, 9.03)):
            Circle(SKETCH3_R, mode=Mode.SUBTRACT)
        with Locations((-2.173940173, 9.03)):
            Circle(SKETCH3_R, mode=Mode.SUBTRACT)
        with Locations((10.506059827, 9.03)):
            Circle(SKETCH3_R, mode=Mode.SUBTRACT)
        with Locations((23.186059827, 9.03)):
            Circle(SKETCH3_R, mode=Mode.SUBTRACT)
        with Locations((35.866059827, 9.03)):
            Circle(SKETCH3_R, mode=Mode.SUBTRACT)
        with Locations((48.546059827, 9.03)):
            Circle(SKETCH3_R, mode=Mode.SUBTRACT)
        with Locations((61.226059827, 9.03)):
            Circle(SKETCH3_R, mode=Mode.SUBTRACT)
        with Locations((73.906059827, 9.03)):
            Circle(SKETCH3_R, mode=Mode.SUBTRACT)
        with Locations((86.586059827, 9.03)):
            Circle(SKETCH3_R, mode=Mode.SUBTRACT)
        with Locations((99.266059827, 9.03)):
            Circle(SKETCH3_R, mode=Mode.SUBTRACT)
        with Locations((111.946059827, 9.03)):
            Circle(SKETCH3_R, mode=Mode.SUBTRACT)
        with Locations((124.626059827, 9.03)):
            Circle(SKETCH3_R, mode=Mode.SUBTRACT)
        with Locations((137.306059827, 9.03)):
            Circle(SKETCH3_R, mode=Mode.SUBTRACT)
        with Locations((149.986059827, 9.03)):
            Circle(SKETCH3_R, mode=Mode.SUBTRACT)
        with Locations((162.666059827, 9.03)):
            Circle(SKETCH3_R, mode=Mode.SUBTRACT)
        with Locations((175.346059827, 9.03)):
            Circle(SKETCH3_R, mode=Mode.SUBTRACT)
        with Locations((188.026059827, 9.03)):
            Circle(SKETCH3_R, mode=Mode.SUBTRACT)
        with Locations((200.706059827, 9.03)):
            Circle(SKETCH3_R, mode=Mode.SUBTRACT)
        with Locations((213.386059827, 9.03)):
            Circle(SKETCH3_R, mode=Mode.SUBTRACT)
        with Locations((226.066059827, 9.03)):
            Circle(SKETCH3_R, mode=Mode.SUBTRACT)
    extrude(amount=BOSS_EXTRUDE5_DEPTH)


solid = Compound([part.part, body_2.part])
